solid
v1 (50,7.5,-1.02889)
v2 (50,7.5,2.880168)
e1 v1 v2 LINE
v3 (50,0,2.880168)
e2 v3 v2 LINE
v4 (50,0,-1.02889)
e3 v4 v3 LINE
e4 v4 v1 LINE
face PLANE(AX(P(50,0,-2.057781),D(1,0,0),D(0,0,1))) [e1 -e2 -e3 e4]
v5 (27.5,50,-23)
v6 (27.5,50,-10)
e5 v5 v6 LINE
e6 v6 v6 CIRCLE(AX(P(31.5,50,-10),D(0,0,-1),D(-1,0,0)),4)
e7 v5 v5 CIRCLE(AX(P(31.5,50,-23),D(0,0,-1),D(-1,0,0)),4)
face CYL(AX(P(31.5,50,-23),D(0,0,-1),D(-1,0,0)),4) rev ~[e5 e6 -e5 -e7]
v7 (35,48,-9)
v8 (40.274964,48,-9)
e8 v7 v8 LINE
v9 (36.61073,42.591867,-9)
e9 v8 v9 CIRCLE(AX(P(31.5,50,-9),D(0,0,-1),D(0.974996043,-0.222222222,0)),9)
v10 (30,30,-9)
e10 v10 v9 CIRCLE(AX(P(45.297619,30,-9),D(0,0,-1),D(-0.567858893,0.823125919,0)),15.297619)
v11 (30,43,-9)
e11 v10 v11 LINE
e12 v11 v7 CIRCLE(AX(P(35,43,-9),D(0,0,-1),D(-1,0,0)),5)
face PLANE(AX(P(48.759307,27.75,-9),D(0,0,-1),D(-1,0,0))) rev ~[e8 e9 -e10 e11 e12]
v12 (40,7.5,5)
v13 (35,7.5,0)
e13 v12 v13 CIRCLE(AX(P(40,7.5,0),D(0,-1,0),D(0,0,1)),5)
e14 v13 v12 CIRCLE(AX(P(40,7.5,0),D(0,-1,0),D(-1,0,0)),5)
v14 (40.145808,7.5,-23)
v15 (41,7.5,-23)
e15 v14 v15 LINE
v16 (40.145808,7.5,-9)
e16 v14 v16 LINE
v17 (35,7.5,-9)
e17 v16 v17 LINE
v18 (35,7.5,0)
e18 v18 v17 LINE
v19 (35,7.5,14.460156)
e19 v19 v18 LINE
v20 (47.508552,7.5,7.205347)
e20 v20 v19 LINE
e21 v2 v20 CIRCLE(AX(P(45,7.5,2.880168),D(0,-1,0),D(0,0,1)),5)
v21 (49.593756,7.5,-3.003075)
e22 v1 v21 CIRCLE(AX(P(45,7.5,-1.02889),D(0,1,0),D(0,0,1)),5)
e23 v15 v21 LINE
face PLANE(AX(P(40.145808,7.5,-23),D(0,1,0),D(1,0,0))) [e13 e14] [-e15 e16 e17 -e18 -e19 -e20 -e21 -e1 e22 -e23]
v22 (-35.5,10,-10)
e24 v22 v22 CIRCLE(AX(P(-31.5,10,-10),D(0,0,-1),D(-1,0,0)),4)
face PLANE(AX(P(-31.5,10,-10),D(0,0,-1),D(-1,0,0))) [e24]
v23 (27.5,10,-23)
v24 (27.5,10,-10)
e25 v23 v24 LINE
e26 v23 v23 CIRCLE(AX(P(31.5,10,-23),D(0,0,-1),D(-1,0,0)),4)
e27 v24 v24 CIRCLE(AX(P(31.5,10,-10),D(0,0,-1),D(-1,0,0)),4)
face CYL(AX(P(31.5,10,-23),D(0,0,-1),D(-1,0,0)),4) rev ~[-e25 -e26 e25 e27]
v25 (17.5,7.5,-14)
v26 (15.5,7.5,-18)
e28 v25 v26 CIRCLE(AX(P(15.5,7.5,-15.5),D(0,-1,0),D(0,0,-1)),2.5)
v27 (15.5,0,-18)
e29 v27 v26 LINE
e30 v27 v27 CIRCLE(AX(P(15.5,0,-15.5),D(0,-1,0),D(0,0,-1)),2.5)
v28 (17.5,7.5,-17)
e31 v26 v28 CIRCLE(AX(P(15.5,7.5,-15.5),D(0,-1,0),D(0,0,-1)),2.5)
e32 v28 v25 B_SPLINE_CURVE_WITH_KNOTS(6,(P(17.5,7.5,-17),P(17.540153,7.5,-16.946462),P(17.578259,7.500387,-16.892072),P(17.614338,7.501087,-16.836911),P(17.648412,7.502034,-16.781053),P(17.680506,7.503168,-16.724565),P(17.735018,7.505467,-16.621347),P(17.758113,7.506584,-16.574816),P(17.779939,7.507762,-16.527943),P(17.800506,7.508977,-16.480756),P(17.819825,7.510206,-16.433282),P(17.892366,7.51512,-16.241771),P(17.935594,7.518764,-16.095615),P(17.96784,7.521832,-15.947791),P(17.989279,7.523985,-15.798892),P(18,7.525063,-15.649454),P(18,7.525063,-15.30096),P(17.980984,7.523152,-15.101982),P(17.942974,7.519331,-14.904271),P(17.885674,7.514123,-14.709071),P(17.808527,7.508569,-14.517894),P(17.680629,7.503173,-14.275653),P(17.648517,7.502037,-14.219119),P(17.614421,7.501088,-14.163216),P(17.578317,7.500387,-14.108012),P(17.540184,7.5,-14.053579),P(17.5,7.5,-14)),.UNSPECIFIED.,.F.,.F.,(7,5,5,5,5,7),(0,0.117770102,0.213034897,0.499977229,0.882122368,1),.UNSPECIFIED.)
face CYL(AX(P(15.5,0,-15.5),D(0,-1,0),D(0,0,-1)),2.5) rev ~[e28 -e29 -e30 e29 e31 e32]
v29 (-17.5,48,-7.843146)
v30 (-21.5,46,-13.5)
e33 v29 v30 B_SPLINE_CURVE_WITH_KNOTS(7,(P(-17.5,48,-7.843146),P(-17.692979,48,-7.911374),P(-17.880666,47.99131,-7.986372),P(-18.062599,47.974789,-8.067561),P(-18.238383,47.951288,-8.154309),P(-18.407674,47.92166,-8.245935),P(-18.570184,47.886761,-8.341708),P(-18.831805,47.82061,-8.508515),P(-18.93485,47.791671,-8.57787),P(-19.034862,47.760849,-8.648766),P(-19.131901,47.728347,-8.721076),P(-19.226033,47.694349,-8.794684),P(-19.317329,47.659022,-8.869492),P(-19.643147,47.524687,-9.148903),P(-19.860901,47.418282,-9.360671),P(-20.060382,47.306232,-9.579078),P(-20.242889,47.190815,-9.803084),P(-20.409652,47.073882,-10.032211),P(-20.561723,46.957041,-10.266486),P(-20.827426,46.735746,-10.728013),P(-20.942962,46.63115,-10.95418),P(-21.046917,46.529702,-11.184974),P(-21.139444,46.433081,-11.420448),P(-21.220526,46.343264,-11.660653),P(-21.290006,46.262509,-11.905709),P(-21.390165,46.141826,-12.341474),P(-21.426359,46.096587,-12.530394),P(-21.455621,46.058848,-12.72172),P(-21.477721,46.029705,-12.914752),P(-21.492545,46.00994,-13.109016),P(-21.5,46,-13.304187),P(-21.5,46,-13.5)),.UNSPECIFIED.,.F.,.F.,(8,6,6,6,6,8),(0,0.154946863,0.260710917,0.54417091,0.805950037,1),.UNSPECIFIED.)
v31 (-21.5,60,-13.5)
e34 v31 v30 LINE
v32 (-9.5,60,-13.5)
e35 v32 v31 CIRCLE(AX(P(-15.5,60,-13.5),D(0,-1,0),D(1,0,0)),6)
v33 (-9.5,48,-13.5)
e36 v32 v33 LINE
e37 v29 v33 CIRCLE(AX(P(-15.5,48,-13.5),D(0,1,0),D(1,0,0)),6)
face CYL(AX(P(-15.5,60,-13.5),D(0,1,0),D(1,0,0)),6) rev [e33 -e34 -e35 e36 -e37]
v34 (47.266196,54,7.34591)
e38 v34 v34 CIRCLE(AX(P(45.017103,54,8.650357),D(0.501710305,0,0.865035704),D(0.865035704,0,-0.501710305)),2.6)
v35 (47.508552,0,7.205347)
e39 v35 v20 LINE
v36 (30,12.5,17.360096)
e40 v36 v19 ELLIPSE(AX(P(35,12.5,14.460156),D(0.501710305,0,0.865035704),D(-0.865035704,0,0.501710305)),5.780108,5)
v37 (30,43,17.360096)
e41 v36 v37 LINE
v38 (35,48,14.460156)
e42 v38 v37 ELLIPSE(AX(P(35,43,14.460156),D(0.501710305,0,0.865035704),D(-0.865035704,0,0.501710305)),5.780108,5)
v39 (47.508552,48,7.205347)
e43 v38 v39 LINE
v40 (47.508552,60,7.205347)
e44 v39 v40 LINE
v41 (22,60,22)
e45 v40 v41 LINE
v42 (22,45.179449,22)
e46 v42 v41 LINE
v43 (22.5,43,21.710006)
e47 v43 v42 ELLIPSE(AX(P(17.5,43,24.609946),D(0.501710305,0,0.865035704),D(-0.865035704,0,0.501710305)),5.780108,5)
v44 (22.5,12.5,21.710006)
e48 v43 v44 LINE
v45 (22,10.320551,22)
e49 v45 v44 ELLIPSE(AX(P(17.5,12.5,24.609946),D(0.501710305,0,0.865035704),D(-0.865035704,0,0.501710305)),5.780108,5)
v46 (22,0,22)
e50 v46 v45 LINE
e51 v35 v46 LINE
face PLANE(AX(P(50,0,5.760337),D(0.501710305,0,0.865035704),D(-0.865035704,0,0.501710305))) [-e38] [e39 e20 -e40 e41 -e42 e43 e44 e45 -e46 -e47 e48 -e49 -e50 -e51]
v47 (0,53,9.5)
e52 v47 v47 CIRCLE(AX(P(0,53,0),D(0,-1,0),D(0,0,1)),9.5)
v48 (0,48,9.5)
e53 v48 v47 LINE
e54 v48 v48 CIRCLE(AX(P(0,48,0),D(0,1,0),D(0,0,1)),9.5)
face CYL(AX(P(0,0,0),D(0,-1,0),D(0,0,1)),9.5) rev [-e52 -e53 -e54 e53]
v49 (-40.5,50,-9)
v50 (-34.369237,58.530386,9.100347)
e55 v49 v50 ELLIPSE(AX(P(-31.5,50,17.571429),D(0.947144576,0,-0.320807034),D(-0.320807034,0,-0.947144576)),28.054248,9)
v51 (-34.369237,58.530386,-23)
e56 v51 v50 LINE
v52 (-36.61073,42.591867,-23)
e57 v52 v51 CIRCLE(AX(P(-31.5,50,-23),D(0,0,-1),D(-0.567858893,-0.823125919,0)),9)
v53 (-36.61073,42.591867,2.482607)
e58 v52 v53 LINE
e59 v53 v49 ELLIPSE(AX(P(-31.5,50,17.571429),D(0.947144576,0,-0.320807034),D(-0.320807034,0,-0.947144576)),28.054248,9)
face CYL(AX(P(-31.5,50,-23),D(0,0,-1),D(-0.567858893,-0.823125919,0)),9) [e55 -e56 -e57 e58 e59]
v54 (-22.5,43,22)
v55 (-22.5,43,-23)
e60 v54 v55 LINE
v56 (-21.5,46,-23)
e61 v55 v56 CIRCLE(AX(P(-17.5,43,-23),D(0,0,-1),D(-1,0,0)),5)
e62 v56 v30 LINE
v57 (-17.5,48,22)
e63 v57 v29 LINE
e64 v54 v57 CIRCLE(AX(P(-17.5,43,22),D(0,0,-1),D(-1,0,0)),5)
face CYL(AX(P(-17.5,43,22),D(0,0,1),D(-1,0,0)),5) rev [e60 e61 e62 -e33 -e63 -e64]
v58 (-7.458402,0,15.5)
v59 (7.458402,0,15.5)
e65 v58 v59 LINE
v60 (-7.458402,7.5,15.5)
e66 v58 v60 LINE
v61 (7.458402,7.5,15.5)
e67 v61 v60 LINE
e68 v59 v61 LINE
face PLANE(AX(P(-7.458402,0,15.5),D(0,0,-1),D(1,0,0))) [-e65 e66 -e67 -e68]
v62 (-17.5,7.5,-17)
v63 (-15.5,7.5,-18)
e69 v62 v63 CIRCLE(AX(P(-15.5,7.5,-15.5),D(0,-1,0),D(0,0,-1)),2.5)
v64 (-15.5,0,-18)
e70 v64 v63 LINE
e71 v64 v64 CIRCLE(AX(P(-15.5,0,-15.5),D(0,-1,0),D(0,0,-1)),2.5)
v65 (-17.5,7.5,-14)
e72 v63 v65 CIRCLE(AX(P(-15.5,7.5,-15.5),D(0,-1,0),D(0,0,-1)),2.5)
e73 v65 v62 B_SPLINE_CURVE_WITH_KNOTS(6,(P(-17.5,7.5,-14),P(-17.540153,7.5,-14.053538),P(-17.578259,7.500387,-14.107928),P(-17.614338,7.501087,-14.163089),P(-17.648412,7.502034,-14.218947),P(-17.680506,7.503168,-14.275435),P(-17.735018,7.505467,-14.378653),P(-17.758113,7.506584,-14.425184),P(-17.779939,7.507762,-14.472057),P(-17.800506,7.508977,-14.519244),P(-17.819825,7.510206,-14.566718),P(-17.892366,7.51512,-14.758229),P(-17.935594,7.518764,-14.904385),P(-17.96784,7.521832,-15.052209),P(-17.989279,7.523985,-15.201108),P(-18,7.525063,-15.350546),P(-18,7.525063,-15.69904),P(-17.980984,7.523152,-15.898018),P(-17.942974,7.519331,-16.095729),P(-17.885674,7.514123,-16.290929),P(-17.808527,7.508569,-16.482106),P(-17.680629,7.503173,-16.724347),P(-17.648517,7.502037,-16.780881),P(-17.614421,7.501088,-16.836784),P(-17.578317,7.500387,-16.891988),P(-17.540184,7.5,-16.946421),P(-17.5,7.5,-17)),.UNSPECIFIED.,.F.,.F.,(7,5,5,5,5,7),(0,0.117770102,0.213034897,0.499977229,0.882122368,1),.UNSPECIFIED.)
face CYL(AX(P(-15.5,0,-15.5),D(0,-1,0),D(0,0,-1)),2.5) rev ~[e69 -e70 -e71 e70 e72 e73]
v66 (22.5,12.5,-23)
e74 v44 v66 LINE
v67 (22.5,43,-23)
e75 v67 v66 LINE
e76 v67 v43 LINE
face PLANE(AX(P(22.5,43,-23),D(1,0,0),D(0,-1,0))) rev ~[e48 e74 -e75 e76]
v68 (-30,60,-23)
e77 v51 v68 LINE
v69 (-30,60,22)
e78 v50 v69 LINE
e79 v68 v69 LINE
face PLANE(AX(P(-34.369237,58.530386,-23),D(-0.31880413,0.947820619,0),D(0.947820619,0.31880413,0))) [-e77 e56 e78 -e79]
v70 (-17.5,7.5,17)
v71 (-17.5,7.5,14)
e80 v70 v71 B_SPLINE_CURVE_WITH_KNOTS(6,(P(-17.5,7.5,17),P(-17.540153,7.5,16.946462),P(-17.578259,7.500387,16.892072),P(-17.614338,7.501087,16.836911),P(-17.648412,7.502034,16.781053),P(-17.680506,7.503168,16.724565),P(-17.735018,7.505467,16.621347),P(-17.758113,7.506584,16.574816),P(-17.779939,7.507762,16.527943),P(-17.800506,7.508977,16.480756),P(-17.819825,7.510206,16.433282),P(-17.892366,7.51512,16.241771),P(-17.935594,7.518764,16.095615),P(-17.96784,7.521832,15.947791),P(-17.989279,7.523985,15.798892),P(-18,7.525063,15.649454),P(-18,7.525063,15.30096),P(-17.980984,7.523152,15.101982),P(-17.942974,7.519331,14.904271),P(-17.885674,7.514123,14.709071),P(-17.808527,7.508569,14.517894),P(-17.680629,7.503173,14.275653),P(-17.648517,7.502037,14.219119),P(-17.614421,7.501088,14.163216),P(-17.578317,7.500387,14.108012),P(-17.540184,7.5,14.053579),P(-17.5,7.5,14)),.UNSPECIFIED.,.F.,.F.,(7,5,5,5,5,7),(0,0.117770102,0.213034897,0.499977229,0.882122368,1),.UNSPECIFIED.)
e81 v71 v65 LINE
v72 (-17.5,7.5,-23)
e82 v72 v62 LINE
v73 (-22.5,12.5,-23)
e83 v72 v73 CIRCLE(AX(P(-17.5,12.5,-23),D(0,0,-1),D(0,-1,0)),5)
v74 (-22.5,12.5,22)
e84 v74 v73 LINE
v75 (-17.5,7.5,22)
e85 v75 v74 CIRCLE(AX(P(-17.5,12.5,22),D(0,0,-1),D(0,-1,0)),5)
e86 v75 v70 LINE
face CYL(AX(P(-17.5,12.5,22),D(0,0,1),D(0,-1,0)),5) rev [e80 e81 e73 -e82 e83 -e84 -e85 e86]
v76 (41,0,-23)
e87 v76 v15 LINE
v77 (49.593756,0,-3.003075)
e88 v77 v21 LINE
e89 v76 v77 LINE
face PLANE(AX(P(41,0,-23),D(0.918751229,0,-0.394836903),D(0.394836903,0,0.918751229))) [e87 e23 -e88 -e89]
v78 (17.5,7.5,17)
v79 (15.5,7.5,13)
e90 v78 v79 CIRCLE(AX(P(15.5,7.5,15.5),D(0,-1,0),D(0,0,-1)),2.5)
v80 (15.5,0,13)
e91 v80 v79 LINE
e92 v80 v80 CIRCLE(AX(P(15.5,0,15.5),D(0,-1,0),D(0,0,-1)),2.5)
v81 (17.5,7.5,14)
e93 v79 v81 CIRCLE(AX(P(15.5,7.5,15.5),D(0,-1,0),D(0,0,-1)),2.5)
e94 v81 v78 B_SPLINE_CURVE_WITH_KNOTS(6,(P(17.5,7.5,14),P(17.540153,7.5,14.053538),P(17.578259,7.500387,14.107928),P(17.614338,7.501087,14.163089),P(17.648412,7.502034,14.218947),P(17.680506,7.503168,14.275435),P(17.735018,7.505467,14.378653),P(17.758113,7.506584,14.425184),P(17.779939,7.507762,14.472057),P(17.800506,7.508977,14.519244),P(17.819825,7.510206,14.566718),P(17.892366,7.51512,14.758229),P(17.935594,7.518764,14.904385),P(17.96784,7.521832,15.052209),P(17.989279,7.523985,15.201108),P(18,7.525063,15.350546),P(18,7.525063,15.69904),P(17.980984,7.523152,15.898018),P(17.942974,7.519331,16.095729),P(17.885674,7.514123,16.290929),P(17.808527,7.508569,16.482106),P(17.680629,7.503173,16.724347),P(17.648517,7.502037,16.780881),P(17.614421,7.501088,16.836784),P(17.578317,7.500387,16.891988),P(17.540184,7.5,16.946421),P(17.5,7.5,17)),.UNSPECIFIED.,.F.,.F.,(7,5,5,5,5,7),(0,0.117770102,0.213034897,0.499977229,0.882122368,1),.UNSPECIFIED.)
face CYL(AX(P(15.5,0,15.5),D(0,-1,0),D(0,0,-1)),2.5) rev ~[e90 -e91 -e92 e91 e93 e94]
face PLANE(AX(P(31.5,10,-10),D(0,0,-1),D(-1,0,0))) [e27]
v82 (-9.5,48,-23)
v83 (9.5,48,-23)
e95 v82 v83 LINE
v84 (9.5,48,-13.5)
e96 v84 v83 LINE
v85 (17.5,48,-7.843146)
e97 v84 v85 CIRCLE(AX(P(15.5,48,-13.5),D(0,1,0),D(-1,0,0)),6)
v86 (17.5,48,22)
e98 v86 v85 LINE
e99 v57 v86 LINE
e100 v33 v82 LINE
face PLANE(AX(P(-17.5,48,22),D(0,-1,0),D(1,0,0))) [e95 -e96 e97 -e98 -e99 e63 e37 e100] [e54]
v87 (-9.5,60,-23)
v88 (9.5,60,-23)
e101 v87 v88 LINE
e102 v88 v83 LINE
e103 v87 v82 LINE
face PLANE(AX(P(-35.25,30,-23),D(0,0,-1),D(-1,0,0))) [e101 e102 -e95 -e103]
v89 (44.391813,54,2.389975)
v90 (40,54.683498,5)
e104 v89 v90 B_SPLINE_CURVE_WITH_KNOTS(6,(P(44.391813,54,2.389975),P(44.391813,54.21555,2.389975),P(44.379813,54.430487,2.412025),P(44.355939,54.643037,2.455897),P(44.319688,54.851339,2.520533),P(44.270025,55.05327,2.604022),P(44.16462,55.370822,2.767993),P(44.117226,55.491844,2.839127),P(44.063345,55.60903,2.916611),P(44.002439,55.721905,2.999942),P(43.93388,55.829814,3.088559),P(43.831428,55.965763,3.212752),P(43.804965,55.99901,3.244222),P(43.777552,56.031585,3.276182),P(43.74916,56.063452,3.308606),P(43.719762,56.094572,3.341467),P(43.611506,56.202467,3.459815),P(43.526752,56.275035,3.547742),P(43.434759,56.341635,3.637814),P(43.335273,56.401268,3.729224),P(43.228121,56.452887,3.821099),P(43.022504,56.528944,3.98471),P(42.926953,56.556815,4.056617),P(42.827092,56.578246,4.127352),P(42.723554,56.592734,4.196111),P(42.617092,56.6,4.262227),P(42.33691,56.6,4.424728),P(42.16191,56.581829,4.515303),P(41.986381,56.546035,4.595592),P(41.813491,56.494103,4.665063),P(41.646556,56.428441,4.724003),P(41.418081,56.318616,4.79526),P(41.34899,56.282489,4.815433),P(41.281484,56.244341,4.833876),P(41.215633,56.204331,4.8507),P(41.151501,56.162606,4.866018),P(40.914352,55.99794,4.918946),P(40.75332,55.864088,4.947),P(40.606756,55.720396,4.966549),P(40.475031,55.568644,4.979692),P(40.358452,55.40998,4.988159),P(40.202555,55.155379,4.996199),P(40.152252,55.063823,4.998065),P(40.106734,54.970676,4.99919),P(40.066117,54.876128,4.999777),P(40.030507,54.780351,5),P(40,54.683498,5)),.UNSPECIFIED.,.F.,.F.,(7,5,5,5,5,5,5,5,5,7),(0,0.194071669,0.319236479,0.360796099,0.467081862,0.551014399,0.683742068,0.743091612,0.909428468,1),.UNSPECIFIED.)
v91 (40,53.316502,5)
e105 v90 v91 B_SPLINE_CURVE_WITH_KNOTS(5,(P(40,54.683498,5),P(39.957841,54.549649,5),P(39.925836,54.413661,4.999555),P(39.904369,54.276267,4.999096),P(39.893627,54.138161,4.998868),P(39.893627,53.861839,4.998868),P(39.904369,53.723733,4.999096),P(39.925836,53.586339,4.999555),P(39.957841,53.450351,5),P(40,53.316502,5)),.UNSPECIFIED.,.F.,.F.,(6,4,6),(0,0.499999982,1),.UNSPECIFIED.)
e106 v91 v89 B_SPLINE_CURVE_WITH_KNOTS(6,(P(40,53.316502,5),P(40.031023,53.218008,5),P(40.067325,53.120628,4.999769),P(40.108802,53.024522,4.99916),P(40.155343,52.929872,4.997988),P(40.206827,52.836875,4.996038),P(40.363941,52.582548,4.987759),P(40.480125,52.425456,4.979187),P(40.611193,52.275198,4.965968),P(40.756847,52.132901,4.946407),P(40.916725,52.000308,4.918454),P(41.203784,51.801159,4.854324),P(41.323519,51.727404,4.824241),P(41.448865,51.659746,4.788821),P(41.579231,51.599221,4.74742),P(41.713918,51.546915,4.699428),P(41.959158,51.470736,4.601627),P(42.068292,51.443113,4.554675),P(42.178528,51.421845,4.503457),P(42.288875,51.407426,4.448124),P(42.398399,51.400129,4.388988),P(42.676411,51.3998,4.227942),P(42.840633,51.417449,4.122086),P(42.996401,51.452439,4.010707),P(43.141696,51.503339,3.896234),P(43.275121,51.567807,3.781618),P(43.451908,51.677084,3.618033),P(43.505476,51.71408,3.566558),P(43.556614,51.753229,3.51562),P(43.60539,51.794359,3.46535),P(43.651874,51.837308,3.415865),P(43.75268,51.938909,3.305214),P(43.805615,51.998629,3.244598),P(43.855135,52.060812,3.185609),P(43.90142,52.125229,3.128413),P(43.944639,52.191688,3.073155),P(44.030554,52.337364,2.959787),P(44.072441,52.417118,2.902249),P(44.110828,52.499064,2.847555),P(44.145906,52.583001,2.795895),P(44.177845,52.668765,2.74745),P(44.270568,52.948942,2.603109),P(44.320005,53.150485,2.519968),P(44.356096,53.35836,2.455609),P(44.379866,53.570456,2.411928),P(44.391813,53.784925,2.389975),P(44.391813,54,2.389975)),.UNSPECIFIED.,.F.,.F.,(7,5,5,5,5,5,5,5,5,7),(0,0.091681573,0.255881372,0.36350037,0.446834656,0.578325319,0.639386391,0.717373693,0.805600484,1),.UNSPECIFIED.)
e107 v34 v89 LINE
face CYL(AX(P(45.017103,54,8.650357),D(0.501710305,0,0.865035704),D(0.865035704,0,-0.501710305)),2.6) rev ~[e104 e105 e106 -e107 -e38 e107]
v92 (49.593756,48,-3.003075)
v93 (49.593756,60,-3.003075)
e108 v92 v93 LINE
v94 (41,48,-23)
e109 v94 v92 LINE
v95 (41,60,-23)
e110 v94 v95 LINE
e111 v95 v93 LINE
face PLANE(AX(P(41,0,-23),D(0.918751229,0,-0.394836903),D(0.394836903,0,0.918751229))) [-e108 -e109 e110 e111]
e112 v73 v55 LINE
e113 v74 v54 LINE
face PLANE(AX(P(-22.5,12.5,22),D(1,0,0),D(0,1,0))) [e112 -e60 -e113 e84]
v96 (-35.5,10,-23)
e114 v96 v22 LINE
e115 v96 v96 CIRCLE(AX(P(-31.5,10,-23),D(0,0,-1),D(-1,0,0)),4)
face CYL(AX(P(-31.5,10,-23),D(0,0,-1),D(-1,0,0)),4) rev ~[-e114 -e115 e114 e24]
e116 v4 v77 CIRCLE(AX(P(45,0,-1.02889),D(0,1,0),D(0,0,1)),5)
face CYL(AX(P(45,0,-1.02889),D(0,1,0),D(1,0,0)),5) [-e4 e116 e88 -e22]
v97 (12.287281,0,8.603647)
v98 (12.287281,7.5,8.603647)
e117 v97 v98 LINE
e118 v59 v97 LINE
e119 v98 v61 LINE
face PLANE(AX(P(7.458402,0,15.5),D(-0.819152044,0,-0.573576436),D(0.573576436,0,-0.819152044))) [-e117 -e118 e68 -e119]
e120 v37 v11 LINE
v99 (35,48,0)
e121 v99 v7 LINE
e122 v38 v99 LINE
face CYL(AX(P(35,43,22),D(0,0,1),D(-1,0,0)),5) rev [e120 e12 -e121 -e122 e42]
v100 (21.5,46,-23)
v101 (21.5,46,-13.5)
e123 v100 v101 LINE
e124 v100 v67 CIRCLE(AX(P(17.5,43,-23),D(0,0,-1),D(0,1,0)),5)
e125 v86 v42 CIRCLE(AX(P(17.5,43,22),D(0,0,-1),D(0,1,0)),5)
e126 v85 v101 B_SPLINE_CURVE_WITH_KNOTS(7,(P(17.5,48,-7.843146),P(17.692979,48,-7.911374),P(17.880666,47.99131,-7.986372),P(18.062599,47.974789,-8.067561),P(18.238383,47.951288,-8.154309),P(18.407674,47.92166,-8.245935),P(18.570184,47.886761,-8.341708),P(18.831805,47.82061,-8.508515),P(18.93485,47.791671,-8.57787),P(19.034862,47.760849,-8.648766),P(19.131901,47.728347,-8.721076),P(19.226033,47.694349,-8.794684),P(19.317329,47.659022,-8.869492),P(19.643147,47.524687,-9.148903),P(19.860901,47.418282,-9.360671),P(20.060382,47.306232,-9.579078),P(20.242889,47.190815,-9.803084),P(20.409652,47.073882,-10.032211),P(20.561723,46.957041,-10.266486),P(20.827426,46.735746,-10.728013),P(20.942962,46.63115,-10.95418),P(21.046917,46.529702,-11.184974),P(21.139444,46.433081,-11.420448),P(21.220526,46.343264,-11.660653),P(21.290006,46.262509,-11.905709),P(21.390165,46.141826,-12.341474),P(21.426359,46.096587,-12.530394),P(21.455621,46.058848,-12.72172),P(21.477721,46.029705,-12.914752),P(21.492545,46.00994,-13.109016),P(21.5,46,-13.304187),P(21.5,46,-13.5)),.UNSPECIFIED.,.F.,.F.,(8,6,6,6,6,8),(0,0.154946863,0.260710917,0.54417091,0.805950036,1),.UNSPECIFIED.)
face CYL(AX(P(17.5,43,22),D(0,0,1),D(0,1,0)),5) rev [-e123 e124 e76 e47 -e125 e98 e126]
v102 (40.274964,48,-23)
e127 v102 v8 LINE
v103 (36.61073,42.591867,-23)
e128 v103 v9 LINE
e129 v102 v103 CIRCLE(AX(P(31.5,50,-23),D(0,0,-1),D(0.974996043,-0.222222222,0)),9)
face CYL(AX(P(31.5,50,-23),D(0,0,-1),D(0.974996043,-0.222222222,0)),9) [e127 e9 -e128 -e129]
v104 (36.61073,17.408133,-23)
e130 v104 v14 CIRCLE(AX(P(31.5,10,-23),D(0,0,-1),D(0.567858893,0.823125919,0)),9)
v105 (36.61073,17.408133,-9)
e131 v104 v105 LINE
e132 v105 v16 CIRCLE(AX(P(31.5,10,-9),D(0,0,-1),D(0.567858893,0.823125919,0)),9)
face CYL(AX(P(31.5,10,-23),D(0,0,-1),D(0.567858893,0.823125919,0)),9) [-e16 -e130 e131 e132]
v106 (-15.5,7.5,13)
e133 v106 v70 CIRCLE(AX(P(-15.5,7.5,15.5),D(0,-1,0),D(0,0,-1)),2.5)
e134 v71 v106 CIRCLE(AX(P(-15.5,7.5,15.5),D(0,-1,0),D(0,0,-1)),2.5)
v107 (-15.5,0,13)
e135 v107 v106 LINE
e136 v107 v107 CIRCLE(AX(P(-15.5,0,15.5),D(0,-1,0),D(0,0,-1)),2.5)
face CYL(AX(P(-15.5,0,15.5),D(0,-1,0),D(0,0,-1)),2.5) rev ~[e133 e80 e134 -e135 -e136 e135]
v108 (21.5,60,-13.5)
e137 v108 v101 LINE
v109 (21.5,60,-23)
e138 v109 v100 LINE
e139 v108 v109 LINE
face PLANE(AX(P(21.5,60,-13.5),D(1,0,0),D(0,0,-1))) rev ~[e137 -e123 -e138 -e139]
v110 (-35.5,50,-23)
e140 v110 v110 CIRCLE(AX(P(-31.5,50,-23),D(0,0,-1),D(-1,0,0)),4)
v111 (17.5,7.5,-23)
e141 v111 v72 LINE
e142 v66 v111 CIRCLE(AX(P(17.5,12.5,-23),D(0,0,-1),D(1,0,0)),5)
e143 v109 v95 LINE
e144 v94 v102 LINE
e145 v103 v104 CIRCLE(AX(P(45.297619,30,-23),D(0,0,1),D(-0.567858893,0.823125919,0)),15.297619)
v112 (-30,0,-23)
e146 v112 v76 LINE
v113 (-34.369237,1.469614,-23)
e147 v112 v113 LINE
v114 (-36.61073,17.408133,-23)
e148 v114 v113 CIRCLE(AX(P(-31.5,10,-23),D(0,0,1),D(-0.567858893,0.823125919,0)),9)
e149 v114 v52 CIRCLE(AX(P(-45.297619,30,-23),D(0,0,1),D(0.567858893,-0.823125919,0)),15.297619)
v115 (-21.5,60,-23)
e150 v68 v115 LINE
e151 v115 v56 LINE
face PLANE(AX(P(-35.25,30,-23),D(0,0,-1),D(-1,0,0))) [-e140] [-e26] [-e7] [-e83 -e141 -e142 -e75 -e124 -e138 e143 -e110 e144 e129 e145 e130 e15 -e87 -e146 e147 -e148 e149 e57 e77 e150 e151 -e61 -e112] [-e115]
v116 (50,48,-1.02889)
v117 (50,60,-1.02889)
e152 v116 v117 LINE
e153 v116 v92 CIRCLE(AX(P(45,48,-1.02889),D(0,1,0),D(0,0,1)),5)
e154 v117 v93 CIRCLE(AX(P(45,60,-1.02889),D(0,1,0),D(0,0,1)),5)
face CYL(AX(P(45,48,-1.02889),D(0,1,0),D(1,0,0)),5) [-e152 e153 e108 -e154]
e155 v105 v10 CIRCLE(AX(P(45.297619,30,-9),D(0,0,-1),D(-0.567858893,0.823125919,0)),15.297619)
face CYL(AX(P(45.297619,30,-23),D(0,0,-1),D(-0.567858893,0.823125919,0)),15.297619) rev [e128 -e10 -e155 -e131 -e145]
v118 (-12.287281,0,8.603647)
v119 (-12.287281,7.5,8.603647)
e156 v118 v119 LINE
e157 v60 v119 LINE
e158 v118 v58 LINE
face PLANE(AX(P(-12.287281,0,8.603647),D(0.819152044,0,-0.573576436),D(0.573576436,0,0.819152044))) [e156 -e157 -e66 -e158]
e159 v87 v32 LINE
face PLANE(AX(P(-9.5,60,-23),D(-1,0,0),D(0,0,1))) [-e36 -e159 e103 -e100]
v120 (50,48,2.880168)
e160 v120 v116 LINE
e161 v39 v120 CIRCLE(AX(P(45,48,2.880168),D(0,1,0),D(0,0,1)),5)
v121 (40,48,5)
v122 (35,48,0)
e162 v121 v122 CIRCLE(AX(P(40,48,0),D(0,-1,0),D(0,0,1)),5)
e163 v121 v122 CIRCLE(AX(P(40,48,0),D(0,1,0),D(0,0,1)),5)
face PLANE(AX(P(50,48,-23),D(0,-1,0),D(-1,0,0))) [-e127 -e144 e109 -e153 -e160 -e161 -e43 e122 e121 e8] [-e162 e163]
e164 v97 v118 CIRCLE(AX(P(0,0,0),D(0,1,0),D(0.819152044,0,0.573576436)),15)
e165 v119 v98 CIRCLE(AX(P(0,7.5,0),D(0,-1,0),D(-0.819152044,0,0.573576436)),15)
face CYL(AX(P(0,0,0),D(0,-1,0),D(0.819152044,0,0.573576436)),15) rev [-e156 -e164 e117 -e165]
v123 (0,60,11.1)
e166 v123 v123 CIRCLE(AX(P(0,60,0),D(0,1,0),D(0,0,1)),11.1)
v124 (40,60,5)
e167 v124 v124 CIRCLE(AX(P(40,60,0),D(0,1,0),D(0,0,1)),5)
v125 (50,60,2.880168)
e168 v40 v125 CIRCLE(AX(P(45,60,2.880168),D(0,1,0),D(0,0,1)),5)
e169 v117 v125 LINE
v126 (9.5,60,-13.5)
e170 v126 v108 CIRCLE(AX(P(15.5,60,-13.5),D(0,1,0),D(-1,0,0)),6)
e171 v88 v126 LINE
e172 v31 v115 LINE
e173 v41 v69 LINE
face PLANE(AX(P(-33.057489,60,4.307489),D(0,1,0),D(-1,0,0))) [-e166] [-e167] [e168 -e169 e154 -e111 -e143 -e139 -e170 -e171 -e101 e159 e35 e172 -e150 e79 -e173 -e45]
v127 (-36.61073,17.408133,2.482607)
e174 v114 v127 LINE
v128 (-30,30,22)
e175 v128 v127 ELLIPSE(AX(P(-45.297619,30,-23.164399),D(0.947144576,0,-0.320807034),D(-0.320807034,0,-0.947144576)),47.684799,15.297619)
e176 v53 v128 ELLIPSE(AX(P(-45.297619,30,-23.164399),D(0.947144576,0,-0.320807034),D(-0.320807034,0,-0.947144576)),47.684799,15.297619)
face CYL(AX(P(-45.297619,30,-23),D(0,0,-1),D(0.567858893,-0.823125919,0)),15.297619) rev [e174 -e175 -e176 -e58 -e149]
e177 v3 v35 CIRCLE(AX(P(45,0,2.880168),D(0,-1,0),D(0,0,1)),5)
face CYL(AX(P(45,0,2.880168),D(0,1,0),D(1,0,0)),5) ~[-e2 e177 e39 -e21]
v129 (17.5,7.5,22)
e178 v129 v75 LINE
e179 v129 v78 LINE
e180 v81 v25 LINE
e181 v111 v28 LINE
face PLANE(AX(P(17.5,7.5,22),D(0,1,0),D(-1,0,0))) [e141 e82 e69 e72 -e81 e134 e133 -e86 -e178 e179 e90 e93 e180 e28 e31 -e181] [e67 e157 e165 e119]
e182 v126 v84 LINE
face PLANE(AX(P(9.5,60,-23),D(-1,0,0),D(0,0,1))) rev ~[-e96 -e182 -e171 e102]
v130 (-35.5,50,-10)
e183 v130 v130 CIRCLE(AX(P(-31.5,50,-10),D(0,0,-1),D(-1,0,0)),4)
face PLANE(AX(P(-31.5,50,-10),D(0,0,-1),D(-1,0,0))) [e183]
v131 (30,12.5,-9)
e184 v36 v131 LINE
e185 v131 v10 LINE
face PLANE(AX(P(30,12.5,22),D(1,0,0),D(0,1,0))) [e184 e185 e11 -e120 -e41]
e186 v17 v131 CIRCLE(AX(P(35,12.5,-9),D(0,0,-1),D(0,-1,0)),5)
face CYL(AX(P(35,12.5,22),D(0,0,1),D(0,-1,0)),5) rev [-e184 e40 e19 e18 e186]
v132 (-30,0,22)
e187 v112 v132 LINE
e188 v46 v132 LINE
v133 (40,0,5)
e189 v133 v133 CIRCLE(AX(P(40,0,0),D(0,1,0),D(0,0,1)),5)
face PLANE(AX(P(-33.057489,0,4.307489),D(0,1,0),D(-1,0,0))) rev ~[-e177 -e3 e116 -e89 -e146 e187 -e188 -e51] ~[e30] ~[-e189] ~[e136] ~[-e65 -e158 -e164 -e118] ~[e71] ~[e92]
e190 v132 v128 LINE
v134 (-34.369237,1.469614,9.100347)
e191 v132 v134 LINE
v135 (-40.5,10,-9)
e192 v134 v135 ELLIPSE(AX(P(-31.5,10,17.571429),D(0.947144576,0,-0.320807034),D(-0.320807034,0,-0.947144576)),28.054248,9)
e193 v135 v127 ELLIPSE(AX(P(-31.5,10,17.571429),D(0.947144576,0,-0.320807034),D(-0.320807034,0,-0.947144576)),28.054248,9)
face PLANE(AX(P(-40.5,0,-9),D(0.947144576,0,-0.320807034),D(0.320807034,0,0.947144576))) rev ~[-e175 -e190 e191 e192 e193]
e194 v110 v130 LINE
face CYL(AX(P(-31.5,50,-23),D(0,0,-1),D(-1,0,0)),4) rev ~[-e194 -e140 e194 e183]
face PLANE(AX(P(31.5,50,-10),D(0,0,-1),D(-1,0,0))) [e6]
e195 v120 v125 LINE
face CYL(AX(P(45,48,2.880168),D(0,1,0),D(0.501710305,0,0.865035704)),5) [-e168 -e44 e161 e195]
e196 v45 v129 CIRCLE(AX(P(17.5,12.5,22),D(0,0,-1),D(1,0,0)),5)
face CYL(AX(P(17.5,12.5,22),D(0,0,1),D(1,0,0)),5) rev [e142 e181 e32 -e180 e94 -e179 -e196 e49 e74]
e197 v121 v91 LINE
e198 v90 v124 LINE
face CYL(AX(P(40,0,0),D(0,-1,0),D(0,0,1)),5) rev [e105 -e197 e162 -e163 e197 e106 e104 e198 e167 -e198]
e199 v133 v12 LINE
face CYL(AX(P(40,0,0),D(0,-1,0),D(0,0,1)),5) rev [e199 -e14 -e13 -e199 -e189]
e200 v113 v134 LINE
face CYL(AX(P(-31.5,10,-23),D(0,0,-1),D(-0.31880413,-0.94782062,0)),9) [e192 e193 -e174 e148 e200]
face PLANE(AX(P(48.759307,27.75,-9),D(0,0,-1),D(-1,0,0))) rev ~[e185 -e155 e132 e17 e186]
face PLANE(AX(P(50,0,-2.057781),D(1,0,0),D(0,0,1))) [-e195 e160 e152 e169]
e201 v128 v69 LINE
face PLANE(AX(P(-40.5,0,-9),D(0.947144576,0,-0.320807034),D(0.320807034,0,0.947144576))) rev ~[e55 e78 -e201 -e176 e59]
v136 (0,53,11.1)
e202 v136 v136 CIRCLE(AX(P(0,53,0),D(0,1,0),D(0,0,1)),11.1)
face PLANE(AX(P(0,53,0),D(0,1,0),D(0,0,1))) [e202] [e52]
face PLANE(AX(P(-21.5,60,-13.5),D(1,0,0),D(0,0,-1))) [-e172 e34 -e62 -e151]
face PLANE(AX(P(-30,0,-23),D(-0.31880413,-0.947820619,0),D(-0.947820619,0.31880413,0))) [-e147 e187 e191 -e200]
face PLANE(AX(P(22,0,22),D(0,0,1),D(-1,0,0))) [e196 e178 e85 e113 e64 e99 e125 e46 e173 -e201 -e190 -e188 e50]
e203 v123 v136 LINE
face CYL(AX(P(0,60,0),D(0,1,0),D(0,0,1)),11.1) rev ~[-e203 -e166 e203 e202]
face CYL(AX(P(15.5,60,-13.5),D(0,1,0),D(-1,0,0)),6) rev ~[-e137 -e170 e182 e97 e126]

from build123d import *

# Parameters (mm, degrees)
SKETCH1_R           = 9.5
SKETCH1_R_2         = 5
BOSS_EXTRUDE1_DEPTH = 60
SKETCH2_R           = 11.1
CUT_EXTRUDE1_DEPTH  = 7
CUT_EXTRUDE2_DEPTH  = 31
SKETCH4_R           = 2.5
CUT_EXTRUDE3_DEPTH  = 16
SKETCH7_W           = 10.5
SKETCH7_H           = 60
BOSS_EXTRUDE2_DEPTH = 14
BOSS_EXTRUDE3_DEPTH = 60
SKETCH5_R           = 4
CUT_EXTRUDE4_DEPTH  = 13
CUT_EXTRUDE5_DEPTH  = 46.0000001
FILLET1_R           = 5
SKETCH9_R           = 2.6
CUT_EXTRUDE6_DEPTH  = 10
CUT_EXTRUDE7_DEPTH  = 20


with BuildPart() as part:
    # Sketch1 → Boss-Extrude1 (new body)
    with BuildSketch(Plane(origin=(0, 0, 0), x_dir=(1, 0, 0), z_dir=(0, 1, 0))):
        Polygon((-30, 23), (41, 23), (50, 2.057780588), (50, -5.760336739), (22, -22), (-30, -22), align=None)
        with Locations(Location((0, 0, 0), (0, 0, 270))):  # turned: the seam where the file's is
            Circle(SKETCH1_R, mode=Mode.SUBTRACT)
        with Locations(Location((40, 0, 0), (0, 0, 270))):  # turned: the seam where the file's is
            Circle(SKETCH1_R_2, mode=Mode.SUBTRACT)
    extrude(amount=BOSS_EXTRUDE1_DEPTH)

    # Sketch2 → Cut-Extrude1 (cut)
    with BuildSketch(Plane(origin=(0, 60, 0), x_dir=(1, 0, 0), z_dir=(0, 1, 0))):
        with Locations(Location((0, 0, 0), (0, 0, 270))):  # turned: the seam where the file's is
            Circle(SKETCH2_R)
    extrude(amount=-CUT_EXTRUDE1_DEPTH, mode=Mode.SUBTRACT)

    # Sketch3 → Cut-Extrude2 (cut)
    with BuildSketch(Plane.XY.offset(22)):
        with BuildLine():
            Line((-17.5, 48), (17.5, 48))
            ThreePointArc((17.5, 48), (21.035533906, 46.535533906), (22.5, 43))
            Line((22.5, 43), (22.5, 12.5))
            ThreePointArc((22.5, 12.5), (21.035533906, 8.964466094), (17.5, 7.5))
            Line((17.5, 7.5), (-17.5, 7.5))
            ThreePointArc((-17.5, 7.5), (-21.035533906, 8.964466094), (-22.5, 12.5))
            Line((-22.5, 12.5), (-22.5, 43))
            ThreePointArc((-22.5, 43), (-21.035533906, 46.535533906), (-17.5, 48))
        make_face()
        with BuildLine():
            Line((35, 48), (66.370981508, 48))
            Line((66.370981508, 48), (66.370981508, 7.5))
            Line((66.370981508, 7.5), (35, 7.5))
            ThreePointArc((35, 7.5), (31.464466094, 8.964466094), (30, 12.5))
            Line((30, 12.5), (30, 43))
            ThreePointArc((30, 43), (31.464466094, 46.535533906), (35, 48))
        make_face()
    extrude(amount=-CUT_EXTRUDE2_DEPTH, mode=Mode.SUBTRACT)

    # Sketch4 → Cut-Extrude3 (cut)
    with BuildSketch(Plane.XZ):
        with Locations(Location((15.5, 15.5, 0), (0, 0, 270))):  # turned: the seam where the file's is
            Circle(SKETCH4_R)
        with Locations(Location((-15.5, 15.5, 0), (0, 0, 270))):  # turned: the seam where the file's is
            Circle(SKETCH4_R)
        with Locations(Location((-15.5, -15.5, 0), (0, 0, 270))):  # turned: the seam where the file's is
            Circle(SKETCH4_R)
        with Locations(Location((15.5, -15.5, 0), (0, 0, 270))):  # turned: the seam where the file's is
            Circle(SKETCH4_R)
        with BuildLine():
            Line((-12.287280664, 8.603646545), (-7.458401989, 15.5))
            Line((-7.458401989, 15.5), (7.458401989, 15.5))
            Line((7.458401989, 15.5), (12.287280664, 8.603646545))
            ThreePointArc((12.287280664, 8.603646545), (0, -15), (-12.287280664, 8.603646545))
        make_face()
    extrude(amount=-CUT_EXTRUDE3_DEPTH, mode=Mode.SUBTRACT)

    # Sketch7 → Boss-Extrude2 (add)
    with BuildSketch(Plane(origin=(0, 0, -23), x_dir=(-1, 0, 0), z_dir=(0, 0, -1))):
        with Locations((35.25, 30)):
            Rectangle(SKETCH7_W, SKETCH7_H)
    extrude(amount=-BOSS_EXTRUDE2_DEPTH)

    # Sketch8 → Boss-Extrude3 (add)
    with BuildSketch(Plane.XZ):
        Polygon((-40.5, -9), (-30, 22), (-30, -9), align=None)
    extrude(amount=-BOSS_EXTRUDE3_DEPTH)

    # Sketch5 → Cut-Extrude4 (cut)
    with BuildSketch(Plane(origin=(0, 0, -23), x_dir=(-1, 0, 0), z_dir=(0, 0, -1))):
        with Locations((31.5, 50)):
            Circle(SKETCH5_R)
        with Locations((31.5, 10)):
            Circle(SKETCH5_R)
        with Locations((-31.5, 10)):
            Circle(SKETCH5_R)
        with Locations((-31.5, 50)):
            Circle(SKETCH5_R)
    extrude(amount=-CUT_EXTRUDE4_DEPTH, mode=Mode.SUBTRACT)

    # Sketch6 → Cut-Extrude5 (cut, through all)
    with BuildSketch(Plane(origin=(0, 0, -23), x_dir=(-1, 0, 0), z_dir=(0, 0, -1))):
        with BuildLine():
            Line((17.5, 48), (-17.5, 48))
            ThreePointArc((-17.5, 48), (-21.035533906, 46.535533906), (-22.5, 43))
            Line((-22.5, 43), (-22.5, 12.5))
            ThreePointArc((-22.5, 12.5), (-21.035533906, 8.964466094), (-17.5, 7.5))
            Line((-17.5, 7.5), (17.5, 7.5))
            ThreePointArc((17.5, 7.5), (21.035533906, 8.964466094), (22.5, 12.5))
            Line((22.5, 12.5), (22.5, 43))
            ThreePointArc((22.5, 43), (21.035533906, 46.535533906), (17.5, 48))
        make_face()
        with BuildLine():
            Line((34.369237169, 58.530385575), (30, 60))
            Line((30, 60), (30, 65.619685256))
            Line((30, 65.619685256), (48.74877155, 65.619685256))
            Line((48.74877155, 65.619685256), (48.74877155, -4.23456535))
            Line((48.74877155, -4.23456535), (30, -4.23456535))
            Line((30, -4.23456535), (30, 0))
            Line((30, 0), (34.369237169, 1.469614425))
            ThreePointArc((34.369237169, 1.469614425), (40.412298518, 8.746630491), (36.610730034, 17.408133268))
            ThreePointArc((36.610730034, 17.408133268), (30, 30), (36.610730034, 42.591866732))
            ThreePointArc((36.610730034, 42.591866732), (40.412298518, 51.253369509), (34.369237169, 58.530385575))
        make_face()
        with BuildLine():
            Line((-50, 48), (-40.274964387, 48))
            ThreePointArc((-40.274964387, 48), (-38.950845842, 44.951743247), (-36.610730034, 42.591866732))
            ThreePointArc((-36.610730034, 42.591866732), (-30, 30), (-36.610730034, 17.408133268))
            ThreePointArc((-36.610730034, 17.408133268), (-39.976636272, 13.024340839), (-40.145808233, 7.5))
            Line((-40.145808233, 7.5), (-50, 7.5))
            Line((-50, 7.5), (-50, 48))
        make_face()
    extrude(amount=-CUT_EXTRUDE5_DEPTH, mode=Mode.SUBTRACT)

    # Fillet1
    fillet1_edges = [part.edges().sort_by_distance(p)[0] for p in [
        (50, 54, -2.057780588),
        (50, 54, 5.760336739),
        (50, 3.75, -2.057780588),
        (50, 3.75, 5.760336739),
    ]]
    fillet(fillet1_edges, radius=FILLET1_R)

    # Sketch9 → Cut-Extrude6 (cut)
    with BuildSketch(Plane(origin=(15.085632266, 0, 26.010250131), x_dir=(0.865035704, 0, -0.501710305), z_dir=(0.501710305, 0, 0.865035704))):
        with Locations((34.60142817, 54)):
            Circle(SKETCH9_R)
    extrude(amount=-CUT_EXTRUDE6_DEPTH, mode=Mode.SUBTRACT)

    # Sketch10 → Cut-Extrude7 (cut)
    with BuildSketch(Plane(origin=(0, 60, 0), x_dir=(1, 0, 0), z_dir=(0, 1, 0))):
        with BuildLine():
            Line((21.5, 23), (9.5, 23))
            Line((9.5, 23), (9.5, 13.5))
            ThreePointArc((9.5, 13.5), (15.5, 7.5), (21.5, 13.5))
            Line((21.5, 13.5), (21.5, 23))
        make_face()
        with BuildLine():
            Line((-21.5, 13.5), (-21.5, 23))
            Line((-21.5, 23), (-9.5, 23))
            Line((-9.5, 23), (-9.5, 13.5))
            ThreePointArc((-9.5, 13.5), (-15.5, 7.5), (-21.5, 13.5))
        make_face()
    extrude(amount=-CUT_EXTRUDE7_DEPTH, mode=Mode.SUBTRACT)


solid = part.part
